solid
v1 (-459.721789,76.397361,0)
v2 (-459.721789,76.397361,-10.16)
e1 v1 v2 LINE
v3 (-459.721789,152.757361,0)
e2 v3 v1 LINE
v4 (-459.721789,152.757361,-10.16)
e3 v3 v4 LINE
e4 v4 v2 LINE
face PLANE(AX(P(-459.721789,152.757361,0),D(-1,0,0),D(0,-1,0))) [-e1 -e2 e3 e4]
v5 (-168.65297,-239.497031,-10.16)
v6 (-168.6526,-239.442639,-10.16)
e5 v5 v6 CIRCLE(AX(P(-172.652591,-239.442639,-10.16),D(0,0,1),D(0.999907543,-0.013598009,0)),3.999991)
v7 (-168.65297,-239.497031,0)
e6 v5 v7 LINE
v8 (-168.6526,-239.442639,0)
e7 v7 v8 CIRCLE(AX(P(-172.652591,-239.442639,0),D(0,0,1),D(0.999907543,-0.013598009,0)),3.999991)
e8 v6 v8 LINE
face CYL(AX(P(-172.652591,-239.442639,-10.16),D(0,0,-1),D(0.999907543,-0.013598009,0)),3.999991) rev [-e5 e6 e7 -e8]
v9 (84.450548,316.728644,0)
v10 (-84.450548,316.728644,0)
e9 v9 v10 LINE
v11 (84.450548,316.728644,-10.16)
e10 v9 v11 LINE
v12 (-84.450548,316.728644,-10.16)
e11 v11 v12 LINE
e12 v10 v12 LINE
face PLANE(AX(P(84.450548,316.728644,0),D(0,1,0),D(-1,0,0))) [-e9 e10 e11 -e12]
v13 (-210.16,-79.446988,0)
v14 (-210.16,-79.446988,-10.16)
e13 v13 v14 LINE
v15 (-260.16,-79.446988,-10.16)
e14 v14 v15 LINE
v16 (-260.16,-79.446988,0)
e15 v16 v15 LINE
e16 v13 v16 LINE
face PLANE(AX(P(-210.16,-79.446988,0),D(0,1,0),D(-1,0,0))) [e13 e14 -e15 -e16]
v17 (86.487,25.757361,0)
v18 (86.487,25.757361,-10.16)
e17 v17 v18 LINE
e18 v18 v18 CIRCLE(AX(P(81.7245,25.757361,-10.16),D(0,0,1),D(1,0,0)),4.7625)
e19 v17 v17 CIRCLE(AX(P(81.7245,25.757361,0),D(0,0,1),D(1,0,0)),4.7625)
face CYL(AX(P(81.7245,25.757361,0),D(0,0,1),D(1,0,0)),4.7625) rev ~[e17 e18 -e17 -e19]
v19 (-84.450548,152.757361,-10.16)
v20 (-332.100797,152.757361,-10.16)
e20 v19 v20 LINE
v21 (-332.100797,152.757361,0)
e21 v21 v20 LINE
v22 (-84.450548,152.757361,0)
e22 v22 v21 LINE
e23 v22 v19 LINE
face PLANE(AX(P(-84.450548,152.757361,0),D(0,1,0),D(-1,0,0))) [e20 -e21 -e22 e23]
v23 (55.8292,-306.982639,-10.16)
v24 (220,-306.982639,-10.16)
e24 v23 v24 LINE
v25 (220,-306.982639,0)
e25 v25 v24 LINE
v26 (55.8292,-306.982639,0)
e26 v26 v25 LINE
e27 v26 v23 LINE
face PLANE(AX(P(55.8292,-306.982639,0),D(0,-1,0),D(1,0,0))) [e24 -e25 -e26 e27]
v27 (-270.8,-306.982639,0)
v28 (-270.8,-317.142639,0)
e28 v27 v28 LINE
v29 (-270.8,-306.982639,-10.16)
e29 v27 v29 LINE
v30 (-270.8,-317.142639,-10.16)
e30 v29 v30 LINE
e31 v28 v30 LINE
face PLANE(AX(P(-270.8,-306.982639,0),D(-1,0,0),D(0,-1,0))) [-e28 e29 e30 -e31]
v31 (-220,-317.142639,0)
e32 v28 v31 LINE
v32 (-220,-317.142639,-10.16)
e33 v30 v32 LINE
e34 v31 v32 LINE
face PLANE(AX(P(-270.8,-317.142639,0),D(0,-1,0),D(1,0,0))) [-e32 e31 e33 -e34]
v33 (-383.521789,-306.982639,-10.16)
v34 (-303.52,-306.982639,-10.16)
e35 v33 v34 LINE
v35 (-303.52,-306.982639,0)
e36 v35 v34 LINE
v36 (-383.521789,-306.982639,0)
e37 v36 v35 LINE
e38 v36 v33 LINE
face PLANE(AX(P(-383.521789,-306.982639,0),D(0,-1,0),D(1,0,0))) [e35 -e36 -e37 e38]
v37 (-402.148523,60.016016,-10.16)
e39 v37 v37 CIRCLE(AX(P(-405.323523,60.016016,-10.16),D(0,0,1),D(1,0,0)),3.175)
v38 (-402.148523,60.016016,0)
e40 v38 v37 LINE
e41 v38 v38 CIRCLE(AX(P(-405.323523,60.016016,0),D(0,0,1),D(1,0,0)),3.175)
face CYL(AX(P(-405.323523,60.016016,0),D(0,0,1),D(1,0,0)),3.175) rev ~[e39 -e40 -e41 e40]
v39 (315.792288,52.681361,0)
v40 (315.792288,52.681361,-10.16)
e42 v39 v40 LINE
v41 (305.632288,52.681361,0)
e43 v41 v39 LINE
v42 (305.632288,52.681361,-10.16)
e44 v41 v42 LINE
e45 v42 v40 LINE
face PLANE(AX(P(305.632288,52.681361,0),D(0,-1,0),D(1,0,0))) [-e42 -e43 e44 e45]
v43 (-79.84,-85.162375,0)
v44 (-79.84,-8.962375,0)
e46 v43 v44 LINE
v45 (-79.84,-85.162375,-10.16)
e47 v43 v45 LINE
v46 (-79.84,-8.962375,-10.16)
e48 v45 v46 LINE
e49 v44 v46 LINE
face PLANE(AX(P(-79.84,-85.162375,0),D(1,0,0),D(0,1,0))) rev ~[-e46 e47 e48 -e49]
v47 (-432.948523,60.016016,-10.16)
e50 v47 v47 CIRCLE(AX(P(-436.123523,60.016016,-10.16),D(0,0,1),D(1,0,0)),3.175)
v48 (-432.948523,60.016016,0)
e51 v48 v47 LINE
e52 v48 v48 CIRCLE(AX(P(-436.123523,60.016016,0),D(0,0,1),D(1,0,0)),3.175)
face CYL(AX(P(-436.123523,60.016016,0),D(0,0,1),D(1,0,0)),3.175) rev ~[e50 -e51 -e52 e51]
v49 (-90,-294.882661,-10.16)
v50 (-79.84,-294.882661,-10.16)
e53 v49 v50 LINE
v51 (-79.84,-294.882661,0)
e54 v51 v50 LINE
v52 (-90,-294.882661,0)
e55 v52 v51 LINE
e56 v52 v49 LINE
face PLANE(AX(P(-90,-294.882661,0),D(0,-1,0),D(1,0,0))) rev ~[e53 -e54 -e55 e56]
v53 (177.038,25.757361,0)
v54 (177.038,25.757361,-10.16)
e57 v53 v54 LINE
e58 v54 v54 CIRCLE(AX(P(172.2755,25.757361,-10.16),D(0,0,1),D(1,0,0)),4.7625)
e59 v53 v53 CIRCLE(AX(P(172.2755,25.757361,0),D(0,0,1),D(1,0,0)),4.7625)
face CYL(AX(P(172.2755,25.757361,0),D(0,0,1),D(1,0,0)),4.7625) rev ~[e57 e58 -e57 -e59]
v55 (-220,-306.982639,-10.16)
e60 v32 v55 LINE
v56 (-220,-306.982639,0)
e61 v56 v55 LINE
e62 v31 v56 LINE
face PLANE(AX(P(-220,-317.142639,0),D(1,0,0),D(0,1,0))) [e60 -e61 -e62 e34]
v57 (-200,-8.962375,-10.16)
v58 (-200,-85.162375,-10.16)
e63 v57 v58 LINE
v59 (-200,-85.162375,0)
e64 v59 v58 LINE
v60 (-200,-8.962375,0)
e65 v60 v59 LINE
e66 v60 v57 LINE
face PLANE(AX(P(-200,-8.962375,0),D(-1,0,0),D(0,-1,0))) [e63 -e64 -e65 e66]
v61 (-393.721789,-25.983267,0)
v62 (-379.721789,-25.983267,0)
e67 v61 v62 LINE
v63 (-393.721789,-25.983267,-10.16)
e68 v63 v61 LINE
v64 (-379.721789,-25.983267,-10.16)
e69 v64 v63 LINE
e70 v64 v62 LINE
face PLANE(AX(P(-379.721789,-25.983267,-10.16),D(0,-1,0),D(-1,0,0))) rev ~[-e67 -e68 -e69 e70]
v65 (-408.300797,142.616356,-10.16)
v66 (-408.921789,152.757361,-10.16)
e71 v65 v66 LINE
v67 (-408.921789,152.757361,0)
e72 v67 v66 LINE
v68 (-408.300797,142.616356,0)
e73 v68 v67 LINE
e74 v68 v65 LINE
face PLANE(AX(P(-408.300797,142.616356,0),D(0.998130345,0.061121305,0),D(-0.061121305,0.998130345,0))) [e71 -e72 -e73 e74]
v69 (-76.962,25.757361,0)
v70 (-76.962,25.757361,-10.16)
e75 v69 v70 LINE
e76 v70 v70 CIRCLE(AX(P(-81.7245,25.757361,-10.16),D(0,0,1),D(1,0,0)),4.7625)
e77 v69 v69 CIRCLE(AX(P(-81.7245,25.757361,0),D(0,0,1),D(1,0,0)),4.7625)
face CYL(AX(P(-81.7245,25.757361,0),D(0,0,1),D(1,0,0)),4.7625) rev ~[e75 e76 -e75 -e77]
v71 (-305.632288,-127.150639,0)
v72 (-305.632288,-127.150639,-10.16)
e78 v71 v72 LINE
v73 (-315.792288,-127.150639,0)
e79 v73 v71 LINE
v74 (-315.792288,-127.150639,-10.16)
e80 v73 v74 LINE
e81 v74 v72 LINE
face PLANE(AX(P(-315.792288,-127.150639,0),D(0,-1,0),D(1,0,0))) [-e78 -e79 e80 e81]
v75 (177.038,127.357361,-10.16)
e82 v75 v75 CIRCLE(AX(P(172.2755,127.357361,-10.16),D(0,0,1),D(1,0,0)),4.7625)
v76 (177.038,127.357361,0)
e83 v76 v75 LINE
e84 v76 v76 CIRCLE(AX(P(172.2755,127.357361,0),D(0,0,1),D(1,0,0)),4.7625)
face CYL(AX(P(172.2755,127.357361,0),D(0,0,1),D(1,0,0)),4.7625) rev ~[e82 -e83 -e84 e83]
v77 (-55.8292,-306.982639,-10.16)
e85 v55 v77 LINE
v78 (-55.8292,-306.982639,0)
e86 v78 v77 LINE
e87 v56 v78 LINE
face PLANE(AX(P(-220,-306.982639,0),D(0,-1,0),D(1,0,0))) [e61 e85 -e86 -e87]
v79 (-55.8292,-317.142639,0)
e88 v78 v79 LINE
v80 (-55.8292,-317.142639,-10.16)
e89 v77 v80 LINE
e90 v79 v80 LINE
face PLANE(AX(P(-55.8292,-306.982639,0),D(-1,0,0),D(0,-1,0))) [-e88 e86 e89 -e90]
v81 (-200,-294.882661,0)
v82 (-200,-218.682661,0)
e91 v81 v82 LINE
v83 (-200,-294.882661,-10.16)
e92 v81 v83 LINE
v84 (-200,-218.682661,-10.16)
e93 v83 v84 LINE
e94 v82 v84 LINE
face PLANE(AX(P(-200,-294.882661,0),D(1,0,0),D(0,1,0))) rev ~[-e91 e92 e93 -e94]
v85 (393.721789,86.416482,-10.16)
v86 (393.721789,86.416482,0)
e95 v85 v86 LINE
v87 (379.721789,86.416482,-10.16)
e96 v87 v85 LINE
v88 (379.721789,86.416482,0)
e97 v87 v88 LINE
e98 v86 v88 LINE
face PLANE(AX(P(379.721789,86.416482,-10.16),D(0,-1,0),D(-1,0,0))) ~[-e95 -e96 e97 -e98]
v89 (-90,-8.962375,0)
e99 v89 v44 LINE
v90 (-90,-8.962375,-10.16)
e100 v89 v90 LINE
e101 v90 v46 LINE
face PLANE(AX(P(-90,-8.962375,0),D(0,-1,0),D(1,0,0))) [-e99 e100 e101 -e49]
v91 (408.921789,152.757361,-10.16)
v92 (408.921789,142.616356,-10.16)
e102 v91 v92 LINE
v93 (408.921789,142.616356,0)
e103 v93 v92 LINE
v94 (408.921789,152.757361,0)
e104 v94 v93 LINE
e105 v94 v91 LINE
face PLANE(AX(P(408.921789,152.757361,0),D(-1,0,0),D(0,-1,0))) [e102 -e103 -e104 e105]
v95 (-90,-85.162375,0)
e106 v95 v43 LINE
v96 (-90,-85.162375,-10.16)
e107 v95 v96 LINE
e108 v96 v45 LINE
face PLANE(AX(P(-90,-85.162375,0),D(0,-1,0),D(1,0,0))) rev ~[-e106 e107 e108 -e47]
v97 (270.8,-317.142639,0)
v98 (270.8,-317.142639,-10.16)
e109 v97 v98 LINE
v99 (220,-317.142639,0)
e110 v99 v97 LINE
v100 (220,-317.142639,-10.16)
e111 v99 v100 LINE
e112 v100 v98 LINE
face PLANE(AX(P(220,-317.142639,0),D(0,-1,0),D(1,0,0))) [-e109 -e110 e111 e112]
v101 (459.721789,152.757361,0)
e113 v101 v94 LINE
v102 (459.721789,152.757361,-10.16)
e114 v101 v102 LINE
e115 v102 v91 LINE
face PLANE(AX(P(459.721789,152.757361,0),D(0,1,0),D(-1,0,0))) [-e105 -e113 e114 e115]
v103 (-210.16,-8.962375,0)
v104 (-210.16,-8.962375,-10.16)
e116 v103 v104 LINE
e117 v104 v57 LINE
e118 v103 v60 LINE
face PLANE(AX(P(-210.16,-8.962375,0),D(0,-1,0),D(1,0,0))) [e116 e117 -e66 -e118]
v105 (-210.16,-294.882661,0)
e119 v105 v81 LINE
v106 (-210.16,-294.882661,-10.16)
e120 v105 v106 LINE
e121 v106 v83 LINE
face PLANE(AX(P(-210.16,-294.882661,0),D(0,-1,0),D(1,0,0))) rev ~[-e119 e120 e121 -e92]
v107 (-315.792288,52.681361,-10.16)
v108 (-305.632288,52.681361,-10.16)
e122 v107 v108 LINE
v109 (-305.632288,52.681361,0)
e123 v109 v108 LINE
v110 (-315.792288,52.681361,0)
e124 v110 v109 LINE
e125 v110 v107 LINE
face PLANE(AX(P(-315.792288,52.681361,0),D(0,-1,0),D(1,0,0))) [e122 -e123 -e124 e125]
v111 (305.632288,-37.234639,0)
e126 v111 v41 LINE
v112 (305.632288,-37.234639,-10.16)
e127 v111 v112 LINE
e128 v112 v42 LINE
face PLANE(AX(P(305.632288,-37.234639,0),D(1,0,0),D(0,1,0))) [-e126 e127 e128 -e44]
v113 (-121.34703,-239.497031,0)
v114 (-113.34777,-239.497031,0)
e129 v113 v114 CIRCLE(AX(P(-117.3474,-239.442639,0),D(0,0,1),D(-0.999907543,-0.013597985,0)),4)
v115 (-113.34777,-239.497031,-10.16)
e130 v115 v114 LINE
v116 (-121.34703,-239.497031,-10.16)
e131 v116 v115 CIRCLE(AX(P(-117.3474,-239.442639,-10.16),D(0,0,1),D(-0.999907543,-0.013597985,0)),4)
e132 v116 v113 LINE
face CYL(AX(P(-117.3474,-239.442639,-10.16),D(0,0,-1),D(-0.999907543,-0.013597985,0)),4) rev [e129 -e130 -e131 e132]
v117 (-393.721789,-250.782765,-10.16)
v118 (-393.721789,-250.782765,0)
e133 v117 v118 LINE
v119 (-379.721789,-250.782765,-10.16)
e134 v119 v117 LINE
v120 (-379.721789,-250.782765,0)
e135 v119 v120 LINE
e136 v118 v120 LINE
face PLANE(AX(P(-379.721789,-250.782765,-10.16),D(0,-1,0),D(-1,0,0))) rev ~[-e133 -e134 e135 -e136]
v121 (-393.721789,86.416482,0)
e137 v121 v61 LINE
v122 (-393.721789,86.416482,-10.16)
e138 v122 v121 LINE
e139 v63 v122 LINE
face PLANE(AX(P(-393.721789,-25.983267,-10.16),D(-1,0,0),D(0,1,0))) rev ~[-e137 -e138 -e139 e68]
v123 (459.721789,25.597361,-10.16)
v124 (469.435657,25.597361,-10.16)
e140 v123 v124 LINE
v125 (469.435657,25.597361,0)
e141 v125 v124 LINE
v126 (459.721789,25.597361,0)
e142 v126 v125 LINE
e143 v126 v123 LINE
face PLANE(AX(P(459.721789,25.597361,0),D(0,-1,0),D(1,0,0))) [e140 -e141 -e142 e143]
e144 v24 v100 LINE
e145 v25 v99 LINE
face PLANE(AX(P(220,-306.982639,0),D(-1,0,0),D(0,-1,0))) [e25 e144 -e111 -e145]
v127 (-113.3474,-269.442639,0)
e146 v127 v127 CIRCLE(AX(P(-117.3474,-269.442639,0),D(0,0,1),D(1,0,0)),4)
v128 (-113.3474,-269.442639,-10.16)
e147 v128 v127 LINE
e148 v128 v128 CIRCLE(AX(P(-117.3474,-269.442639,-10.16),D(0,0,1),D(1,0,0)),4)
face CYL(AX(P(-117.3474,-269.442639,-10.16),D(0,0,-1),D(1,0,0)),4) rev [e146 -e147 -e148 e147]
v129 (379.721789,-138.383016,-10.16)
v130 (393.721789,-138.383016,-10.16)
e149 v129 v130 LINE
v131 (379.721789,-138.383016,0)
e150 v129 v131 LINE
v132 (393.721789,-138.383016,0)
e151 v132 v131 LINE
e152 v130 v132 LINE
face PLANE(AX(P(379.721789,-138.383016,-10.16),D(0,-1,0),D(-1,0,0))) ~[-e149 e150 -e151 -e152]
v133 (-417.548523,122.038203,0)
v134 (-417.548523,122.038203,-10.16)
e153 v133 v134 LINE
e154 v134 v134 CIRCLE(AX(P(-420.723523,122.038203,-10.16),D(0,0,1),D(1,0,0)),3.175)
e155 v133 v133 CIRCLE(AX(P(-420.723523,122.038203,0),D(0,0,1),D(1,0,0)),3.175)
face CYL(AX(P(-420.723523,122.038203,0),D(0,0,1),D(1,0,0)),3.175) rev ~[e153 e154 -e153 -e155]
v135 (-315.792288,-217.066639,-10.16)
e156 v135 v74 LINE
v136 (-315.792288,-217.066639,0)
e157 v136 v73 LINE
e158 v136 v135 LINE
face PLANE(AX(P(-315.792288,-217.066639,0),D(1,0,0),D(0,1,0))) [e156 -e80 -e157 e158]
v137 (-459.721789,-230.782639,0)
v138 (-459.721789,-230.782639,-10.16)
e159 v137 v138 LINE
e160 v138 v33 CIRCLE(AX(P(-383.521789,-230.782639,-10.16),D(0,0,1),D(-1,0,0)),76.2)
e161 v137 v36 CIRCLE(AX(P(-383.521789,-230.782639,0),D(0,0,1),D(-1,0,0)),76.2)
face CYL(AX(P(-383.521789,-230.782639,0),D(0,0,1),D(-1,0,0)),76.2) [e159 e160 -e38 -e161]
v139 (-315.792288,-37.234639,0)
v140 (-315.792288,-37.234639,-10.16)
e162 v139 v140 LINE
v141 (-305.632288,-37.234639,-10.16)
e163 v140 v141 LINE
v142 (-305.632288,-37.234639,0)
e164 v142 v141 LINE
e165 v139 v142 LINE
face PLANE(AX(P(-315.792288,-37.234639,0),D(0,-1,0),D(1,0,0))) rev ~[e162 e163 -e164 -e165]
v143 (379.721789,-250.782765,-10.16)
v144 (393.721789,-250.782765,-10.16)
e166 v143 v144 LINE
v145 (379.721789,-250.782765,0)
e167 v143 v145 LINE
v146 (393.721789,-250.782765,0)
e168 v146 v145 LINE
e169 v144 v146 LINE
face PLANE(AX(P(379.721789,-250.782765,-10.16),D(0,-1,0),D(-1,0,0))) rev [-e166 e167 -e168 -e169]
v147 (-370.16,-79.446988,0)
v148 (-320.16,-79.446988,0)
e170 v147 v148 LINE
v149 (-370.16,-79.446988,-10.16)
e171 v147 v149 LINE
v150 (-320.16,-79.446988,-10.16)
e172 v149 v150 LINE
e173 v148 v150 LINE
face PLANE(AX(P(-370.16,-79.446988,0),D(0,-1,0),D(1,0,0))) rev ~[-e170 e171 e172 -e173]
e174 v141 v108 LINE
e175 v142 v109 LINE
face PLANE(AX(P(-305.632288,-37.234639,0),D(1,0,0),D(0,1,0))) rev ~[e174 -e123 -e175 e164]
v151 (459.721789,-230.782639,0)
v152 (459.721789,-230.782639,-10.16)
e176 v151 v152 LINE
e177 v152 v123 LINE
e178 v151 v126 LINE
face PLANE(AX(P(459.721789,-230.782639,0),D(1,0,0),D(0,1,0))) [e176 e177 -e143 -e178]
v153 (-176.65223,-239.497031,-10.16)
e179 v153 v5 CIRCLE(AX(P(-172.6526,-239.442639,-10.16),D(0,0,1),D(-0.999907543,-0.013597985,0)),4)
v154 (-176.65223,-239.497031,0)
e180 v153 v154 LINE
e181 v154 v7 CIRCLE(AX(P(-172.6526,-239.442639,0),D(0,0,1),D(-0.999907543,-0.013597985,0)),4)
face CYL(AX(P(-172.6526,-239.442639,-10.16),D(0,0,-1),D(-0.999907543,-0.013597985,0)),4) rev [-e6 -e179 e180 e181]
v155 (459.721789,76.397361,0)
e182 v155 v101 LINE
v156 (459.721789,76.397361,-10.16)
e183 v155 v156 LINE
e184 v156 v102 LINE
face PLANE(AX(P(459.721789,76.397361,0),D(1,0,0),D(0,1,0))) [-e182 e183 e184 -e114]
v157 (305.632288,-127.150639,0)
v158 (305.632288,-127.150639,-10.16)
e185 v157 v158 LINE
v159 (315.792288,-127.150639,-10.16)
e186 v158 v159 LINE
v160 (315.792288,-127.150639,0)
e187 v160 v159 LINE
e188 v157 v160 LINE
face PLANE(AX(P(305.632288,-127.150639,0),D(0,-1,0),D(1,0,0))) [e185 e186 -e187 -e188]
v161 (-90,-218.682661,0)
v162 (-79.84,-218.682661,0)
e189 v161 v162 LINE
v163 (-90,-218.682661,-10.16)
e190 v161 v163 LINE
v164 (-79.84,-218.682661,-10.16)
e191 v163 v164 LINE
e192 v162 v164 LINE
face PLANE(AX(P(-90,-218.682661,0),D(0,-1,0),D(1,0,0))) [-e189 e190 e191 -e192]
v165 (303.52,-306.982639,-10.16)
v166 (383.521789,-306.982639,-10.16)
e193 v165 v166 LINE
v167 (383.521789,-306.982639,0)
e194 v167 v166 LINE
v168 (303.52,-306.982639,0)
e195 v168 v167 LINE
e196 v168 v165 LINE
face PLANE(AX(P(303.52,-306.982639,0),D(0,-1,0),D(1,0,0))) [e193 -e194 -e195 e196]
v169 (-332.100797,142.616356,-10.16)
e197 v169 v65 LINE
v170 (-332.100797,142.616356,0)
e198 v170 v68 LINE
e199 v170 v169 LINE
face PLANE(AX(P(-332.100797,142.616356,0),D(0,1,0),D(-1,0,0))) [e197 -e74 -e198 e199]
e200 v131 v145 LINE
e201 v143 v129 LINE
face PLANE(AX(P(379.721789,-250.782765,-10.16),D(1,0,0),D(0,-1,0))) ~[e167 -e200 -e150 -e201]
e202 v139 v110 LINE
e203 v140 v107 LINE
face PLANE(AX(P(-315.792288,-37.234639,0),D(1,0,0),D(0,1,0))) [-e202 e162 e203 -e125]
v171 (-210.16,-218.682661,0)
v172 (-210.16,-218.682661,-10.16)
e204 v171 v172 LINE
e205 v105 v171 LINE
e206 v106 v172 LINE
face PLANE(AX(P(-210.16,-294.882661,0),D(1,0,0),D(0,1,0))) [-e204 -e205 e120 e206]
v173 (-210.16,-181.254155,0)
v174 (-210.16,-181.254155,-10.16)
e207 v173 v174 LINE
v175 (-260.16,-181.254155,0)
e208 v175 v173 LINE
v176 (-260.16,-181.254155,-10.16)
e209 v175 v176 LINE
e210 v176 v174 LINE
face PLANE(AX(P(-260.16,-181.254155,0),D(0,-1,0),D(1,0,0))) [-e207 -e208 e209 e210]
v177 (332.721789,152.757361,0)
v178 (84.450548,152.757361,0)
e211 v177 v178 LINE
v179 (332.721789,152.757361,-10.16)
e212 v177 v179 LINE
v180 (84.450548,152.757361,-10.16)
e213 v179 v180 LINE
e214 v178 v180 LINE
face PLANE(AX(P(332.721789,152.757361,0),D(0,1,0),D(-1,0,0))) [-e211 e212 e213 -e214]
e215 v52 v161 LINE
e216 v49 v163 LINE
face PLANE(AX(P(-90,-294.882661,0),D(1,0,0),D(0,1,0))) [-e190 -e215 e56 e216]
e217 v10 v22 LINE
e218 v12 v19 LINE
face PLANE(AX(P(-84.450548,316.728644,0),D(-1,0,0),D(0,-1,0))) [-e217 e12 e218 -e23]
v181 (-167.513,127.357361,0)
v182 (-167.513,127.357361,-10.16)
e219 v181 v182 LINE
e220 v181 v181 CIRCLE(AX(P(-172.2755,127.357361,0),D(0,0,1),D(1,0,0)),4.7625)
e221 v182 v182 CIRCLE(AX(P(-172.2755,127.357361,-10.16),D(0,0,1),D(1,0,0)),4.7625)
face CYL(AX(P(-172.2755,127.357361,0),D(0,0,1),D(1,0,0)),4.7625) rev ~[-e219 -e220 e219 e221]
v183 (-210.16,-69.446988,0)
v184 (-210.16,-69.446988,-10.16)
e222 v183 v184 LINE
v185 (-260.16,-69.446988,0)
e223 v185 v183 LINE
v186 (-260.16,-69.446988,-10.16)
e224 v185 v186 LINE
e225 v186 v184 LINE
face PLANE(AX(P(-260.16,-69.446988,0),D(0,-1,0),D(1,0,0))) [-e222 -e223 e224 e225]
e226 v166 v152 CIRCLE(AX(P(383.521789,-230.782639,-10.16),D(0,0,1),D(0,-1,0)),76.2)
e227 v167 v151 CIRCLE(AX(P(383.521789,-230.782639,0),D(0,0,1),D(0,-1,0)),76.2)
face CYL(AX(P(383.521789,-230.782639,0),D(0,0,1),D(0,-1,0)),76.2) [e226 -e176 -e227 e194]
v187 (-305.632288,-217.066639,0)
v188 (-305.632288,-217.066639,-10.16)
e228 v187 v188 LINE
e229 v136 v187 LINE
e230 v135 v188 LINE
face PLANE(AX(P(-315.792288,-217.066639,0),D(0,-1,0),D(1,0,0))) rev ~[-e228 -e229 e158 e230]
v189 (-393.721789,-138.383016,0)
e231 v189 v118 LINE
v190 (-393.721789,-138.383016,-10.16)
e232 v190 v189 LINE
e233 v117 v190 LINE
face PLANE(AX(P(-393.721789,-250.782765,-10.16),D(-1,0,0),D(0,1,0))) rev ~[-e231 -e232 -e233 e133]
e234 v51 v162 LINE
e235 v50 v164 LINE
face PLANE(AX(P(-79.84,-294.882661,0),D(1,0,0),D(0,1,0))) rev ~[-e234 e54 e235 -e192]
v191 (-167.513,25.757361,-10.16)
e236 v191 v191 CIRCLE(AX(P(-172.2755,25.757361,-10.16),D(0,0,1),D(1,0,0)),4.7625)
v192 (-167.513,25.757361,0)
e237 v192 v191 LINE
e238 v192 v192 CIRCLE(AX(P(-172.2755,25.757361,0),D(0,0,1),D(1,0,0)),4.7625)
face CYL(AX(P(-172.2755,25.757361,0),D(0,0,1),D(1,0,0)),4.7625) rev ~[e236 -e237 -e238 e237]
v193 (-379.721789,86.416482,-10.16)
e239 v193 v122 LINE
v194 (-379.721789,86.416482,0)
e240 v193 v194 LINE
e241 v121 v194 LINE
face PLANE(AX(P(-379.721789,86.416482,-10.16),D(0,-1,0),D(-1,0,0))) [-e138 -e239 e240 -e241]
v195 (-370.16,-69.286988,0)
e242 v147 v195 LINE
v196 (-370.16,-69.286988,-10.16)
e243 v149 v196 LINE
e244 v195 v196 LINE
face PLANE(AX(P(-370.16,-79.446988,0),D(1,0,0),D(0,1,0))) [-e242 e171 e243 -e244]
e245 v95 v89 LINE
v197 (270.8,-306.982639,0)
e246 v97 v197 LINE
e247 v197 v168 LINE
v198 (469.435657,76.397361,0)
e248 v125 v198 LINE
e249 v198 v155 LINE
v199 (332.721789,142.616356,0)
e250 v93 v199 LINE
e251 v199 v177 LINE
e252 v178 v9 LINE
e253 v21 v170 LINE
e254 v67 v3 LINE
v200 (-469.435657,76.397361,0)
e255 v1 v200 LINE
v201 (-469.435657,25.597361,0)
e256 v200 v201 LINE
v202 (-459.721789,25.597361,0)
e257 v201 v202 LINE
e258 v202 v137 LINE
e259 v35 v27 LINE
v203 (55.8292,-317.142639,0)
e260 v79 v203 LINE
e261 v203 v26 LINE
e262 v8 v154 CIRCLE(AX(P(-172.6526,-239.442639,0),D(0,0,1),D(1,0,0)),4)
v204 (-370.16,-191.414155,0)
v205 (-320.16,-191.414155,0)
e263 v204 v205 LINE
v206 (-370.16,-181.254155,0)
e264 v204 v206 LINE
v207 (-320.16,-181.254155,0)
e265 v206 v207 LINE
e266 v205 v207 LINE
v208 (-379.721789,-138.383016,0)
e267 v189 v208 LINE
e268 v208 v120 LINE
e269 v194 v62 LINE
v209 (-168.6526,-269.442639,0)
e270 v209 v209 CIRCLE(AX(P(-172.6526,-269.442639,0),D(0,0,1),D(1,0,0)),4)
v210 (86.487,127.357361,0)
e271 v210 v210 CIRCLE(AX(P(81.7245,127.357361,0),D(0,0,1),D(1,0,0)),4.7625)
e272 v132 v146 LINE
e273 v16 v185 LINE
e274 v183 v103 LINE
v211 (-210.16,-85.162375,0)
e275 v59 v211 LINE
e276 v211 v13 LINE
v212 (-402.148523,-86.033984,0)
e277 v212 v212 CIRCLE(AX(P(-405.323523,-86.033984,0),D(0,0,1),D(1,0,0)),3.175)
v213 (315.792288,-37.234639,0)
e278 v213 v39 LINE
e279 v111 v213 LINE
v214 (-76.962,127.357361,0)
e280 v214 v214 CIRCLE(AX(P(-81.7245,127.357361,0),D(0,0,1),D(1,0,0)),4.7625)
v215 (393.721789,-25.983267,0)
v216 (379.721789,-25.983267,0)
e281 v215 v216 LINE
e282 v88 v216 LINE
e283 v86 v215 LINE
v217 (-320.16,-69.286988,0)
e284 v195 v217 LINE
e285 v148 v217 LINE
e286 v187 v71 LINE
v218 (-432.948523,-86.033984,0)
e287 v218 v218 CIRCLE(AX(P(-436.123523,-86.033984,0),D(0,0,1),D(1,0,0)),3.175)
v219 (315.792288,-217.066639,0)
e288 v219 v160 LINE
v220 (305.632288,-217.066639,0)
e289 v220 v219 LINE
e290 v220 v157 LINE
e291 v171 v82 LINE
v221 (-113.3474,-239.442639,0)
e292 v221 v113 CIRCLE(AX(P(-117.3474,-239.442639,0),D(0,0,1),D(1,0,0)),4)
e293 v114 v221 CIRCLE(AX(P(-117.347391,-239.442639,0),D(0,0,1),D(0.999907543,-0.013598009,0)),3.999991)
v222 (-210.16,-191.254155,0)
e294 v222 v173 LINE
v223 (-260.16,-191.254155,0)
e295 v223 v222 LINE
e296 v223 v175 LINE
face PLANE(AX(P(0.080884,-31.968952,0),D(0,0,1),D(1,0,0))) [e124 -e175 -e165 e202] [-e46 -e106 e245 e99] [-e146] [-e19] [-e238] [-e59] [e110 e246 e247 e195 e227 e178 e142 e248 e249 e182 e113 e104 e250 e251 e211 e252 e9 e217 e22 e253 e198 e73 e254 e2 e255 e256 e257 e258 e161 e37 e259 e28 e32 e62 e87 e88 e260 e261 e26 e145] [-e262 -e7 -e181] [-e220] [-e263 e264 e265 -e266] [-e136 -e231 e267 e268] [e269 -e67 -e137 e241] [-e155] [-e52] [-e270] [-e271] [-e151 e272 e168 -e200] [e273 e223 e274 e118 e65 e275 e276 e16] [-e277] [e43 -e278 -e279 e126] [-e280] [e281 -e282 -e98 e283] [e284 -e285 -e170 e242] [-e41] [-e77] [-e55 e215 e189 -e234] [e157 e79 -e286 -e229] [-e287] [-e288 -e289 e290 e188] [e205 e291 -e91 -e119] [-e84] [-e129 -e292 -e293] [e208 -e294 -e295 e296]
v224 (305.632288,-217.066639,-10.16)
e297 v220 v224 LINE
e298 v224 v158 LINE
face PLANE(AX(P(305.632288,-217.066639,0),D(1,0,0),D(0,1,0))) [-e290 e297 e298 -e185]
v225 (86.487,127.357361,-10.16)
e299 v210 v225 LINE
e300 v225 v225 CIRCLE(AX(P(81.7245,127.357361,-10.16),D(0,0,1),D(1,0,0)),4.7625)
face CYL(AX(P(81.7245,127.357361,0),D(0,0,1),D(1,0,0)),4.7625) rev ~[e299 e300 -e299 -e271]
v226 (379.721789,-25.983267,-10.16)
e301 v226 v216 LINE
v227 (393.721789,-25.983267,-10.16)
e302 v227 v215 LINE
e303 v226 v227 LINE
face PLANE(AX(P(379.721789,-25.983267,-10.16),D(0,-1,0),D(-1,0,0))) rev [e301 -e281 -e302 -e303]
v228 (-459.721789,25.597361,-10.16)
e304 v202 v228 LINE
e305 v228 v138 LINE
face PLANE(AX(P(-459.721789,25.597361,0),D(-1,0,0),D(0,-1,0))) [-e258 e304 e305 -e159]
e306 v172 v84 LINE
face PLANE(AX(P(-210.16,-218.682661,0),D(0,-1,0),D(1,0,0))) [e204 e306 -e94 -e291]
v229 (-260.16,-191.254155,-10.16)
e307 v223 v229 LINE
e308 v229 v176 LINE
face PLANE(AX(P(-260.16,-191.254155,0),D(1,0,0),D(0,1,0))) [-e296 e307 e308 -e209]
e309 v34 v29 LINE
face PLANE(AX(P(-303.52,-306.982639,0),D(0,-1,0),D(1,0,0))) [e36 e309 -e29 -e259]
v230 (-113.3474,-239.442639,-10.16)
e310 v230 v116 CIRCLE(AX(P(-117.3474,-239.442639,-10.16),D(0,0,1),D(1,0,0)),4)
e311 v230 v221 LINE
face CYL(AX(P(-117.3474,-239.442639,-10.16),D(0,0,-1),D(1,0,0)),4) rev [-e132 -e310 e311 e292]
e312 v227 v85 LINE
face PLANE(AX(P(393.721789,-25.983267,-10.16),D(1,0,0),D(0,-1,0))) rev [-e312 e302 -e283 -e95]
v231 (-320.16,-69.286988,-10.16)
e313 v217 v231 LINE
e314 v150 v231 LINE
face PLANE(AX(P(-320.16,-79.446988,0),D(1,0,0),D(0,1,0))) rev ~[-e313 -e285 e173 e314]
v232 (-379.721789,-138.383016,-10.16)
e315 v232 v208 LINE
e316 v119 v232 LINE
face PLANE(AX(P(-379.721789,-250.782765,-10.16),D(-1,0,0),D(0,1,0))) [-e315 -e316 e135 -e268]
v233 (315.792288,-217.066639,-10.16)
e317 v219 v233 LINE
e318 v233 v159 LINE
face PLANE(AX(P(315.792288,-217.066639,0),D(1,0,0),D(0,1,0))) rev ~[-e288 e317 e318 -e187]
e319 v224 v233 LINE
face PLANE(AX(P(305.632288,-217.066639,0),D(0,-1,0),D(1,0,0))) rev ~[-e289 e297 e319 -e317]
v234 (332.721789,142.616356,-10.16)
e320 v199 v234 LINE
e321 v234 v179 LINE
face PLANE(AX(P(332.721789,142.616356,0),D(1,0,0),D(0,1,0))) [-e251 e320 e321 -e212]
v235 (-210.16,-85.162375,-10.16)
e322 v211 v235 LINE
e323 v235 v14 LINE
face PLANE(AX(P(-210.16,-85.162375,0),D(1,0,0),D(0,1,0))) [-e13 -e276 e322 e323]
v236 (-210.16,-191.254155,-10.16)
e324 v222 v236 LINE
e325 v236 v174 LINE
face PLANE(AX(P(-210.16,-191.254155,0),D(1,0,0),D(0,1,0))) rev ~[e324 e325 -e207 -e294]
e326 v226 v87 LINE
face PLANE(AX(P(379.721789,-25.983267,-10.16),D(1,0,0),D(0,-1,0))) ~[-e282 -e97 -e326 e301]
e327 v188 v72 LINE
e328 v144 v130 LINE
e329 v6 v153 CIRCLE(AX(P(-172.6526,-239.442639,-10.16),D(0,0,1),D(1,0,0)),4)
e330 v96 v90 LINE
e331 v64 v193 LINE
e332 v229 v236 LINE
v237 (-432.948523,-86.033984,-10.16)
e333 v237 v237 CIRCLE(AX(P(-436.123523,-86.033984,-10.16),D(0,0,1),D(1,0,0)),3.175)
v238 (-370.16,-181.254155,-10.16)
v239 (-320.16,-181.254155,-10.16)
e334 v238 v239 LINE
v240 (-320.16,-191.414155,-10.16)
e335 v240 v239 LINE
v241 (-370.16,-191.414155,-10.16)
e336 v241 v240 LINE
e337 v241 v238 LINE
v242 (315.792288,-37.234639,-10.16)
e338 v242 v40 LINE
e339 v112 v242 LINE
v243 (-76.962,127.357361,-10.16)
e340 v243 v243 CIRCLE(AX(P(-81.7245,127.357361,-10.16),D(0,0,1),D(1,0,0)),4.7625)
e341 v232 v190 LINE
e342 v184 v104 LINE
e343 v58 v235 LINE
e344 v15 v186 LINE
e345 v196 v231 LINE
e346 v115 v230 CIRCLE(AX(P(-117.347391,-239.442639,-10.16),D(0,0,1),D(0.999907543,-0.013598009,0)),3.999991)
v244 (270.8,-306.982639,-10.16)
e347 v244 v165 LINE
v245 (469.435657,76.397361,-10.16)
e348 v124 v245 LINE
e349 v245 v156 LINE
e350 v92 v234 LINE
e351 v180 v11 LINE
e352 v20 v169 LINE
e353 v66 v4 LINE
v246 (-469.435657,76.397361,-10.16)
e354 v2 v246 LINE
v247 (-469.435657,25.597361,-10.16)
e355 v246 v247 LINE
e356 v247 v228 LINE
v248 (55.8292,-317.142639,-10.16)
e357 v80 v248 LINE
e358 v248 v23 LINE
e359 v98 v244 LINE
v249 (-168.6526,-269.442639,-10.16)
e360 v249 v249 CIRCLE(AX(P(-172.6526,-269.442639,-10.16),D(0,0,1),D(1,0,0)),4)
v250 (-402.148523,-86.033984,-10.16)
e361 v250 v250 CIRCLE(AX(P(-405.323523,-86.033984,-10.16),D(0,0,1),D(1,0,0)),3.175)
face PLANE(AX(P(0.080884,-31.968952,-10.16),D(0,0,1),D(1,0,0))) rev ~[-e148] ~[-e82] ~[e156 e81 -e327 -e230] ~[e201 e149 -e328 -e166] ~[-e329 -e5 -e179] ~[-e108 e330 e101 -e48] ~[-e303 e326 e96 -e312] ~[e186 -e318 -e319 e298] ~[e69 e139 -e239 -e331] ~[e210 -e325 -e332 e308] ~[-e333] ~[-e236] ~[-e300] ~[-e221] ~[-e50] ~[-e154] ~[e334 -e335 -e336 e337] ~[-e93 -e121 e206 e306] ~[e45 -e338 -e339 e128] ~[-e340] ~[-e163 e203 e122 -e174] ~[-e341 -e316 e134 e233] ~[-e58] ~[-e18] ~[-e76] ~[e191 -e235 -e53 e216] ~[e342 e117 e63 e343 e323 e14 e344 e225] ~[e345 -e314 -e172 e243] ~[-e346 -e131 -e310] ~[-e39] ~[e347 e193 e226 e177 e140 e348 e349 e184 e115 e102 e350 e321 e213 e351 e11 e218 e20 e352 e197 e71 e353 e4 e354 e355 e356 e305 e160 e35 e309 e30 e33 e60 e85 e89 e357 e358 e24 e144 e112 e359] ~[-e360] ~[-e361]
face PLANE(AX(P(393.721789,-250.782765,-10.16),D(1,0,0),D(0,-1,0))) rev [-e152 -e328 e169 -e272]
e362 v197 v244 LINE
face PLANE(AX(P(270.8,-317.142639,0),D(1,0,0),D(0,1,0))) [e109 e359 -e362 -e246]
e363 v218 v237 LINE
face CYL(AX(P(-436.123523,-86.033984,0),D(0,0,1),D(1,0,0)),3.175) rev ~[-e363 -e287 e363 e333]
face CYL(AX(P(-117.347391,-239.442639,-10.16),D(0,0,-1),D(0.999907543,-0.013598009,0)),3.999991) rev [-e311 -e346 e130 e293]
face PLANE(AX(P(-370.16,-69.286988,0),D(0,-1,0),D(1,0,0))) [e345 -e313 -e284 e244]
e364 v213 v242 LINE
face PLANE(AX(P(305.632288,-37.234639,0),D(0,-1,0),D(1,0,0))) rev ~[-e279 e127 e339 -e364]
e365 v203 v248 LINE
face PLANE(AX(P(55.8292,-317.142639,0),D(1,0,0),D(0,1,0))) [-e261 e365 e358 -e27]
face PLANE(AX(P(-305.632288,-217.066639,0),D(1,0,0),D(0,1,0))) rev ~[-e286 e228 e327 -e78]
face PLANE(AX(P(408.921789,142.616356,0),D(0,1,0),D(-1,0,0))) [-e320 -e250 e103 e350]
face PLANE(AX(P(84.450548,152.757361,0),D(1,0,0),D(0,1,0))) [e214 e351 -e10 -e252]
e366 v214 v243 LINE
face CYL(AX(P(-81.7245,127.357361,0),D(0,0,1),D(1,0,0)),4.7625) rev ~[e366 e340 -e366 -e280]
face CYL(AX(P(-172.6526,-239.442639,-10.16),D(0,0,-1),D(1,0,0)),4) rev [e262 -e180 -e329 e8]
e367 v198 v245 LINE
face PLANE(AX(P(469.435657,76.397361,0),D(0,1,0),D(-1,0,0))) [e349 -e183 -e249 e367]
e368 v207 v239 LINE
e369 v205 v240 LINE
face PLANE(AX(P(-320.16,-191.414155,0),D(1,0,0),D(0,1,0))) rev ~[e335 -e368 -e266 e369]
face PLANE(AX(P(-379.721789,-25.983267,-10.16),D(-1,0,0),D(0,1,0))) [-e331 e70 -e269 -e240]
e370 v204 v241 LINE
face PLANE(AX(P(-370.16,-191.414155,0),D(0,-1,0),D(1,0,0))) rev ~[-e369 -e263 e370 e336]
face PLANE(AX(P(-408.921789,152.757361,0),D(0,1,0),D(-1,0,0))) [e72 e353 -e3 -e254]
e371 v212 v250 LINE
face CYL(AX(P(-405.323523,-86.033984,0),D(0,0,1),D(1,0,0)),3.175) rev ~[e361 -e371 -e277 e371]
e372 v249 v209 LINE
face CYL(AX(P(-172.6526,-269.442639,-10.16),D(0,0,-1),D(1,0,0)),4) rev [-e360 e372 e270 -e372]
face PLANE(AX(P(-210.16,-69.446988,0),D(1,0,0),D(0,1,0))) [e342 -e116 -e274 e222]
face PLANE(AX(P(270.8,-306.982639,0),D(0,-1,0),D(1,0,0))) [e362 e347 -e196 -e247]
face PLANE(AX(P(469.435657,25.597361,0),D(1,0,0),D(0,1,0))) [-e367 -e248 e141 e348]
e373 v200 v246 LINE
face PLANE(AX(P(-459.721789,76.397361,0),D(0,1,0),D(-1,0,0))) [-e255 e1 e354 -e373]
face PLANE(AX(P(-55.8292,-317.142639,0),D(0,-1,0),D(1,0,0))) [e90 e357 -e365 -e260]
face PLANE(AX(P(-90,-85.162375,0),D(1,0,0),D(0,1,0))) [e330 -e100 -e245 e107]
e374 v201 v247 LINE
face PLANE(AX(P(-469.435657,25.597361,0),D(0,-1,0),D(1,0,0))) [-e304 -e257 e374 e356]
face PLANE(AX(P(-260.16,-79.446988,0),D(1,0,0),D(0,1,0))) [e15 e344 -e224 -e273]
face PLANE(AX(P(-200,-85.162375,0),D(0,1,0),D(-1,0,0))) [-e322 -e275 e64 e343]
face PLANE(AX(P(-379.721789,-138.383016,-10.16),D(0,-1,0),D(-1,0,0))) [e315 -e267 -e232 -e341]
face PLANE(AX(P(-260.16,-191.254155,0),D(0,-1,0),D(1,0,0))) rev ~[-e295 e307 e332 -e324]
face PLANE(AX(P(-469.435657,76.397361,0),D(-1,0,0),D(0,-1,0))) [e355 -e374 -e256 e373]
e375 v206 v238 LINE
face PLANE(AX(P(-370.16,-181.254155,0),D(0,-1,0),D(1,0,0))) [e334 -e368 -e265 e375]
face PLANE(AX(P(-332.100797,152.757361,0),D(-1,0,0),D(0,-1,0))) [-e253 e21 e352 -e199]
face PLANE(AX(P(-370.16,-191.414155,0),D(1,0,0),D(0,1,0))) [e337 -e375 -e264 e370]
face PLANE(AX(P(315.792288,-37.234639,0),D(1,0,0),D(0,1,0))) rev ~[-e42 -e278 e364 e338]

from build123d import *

# Parameters (mm, degrees)
SKETCH2_W           = 10.16
SKETCH2_H           = 76.2
SKETCH2_W_2         = 50
SKETCH2_H_2         = 10.16
SKETCH2_H_3         = 89.916
SKETCH2_R           = 3.175
SKETCH2_H_4         = 10
SKETCH2_R_2         = 4.7625
BOSS_EXTRUDE1_DEPTH = 10.16
SKETCH6_W           = 14
SKETCH6_H           = 112.399749
CUT_EXTRUDE1_DEPTH  = 15.24
CUT_EXTRUDE2_START  = -10.16
SKETCH11_R          = 4
CUT_EXTRUDE2_DEPTH  = 10.16


with BuildPart() as part:
    # Sketch2 → Boss-Extrude1 (new body)
    with BuildSketch(Plane.XY):
        with BuildLine():
            Line((-408.300796745, 142.616356263), (-408.921789204, 152.75736057))
            Line((-408.921789204, 152.75736057), (-459.721789204, 152.75736057))
            Line((-459.721789204, 152.75736057), (-459.721789204, 76.39736057))
            Line((-459.721789204, 76.39736057), (-469.435656714, 76.39736057))
            Line((-469.435656714, 76.39736057), (-469.435656714, 25.59736057))
            Line((-469.435656714, 25.59736057), (-459.721789204, 25.59736057))
            Line((-459.721789204, 25.59736057), (-459.721789204, -230.782639429))
            ThreePointArc((-459.721789204, -230.782639429), (-437.403325931, -284.664176156), (-383.521789204, -306.982639429))
            Line((-383.521789204, -306.982639429), (-303.52, -306.982639429))
            Line((-303.52, -306.982639429), (-270.8, -306.98263943))
            Line((-270.8, -306.98263943), (-270.8, -317.14263943))
            Line((-270.8, -317.14263943), (-220, -317.14263943))
            Line((-220, -317.14263943), (-220, -306.98263943))
            Line((-220, -306.98263943), (-55.8292, -306.982639429))
            Line((-55.8292, -306.982639429), (-55.8292, -317.14263943))
            Line((-55.8292, -317.14263943), (55.8292, -317.14263943))
            Line((55.8292, -317.14263943), (55.8292, -306.982639429))
            Line((55.8292, -306.982639429), (220, -306.98263943))
            Line((220, -306.98263943), (220, -317.14263943))
            Line((220, -317.14263943), (270.8, -317.14263943))
            Line((270.8, -317.14263943), (270.8, -306.98263943))
            Line((270.8, -306.98263943), (303.52, -306.982639429))
            Line((303.52, -306.982639429), (383.521789204, -306.982639429))
            ThreePointArc((383.521789204, -306.982639429), (437.403325931, -284.664176156), (459.721789204, -230.782639429))
            Line((459.721789204, -230.782639429), (459.721789204, 25.59736057))
            Line((459.721789204, 25.59736057), (469.435656714, 25.59736057))
            Line((469.435656714, 25.59736057), (469.435656714, 76.39736057))
            Line((469.435656714, 76.39736057), (459.721789204, 76.39736057))
            Line((459.721789204, 76.39736057), (459.721789204, 152.75736057))
            Line((459.721789204, 152.75736057), (408.921789204, 152.75736057))
            Line((408.921789204, 152.75736057), (408.921789204, 142.616356263))
            Line((408.921789204, 142.616356263), (332.721789204, 142.616356263))
            Line((332.721789204, 142.616356263), (332.721789204, 152.75736057))
            Line((332.721789204, 152.75736057), (84.450547773, 152.75736057))
            Line((84.450547773, 152.75736057), (84.450547773, 316.728644457))
            Line((84.450547773, 316.728644457), (-84.450547773, 316.728644457))
            Line((-84.450547773, 316.728644457), (-84.450547773, 152.75736057))
            Line((-84.450547773, 152.75736057), (-332.100796745, 152.75736057))
            Line((-332.100796745, 152.75736057), (-332.100796745, 142.616356263))
            Line((-332.100796745, 142.616356263), (-408.300796745, 142.616356263))
        make_face()
        with Locations((-205.08, -256.782661115)):
            Rectangle(SKETCH2_W, SKETCH2_H, mode=Mode.SUBTRACT)
        with Locations((-84.92, -256.782661115)):
            Rectangle(SKETCH2_W, SKETCH2_H, mode=Mode.SUBTRACT)
        with Locations((-345.16, -186.334154613)):
            Rectangle(SKETCH2_W_2, SKETCH2_H_2, mode=Mode.SUBTRACT)
        with Locations((-310.712287657, -172.10863943)):
            Rectangle(SKETCH2_W, SKETCH2_H_3, mode=Mode.SUBTRACT)
        with Locations((-436.123522935, -86.033983844)):
            Circle(SKETCH2_R, mode=Mode.SUBTRACT)
        with Locations((-405.323522935, -86.033983844)):
            Circle(SKETCH2_R, mode=Mode.SUBTRACT)
        with Locations((-235.16, -186.254154613)):
            Rectangle(SKETCH2_W_2, SKETCH2_H_4, mode=Mode.SUBTRACT)
        with Locations((310.712287657, -172.10863943)):
            Rectangle(SKETCH2_W, SKETCH2_H_3, mode=Mode.SUBTRACT)
        with Locations((-345.16, -74.366988355)):
            Rectangle(SKETCH2_W_2, SKETCH2_H_2, mode=Mode.SUBTRACT)
        with Locations((-310.712287657, 7.72336057)):
            Rectangle(SKETCH2_W, SKETCH2_H_3, mode=Mode.SUBTRACT)
        Polygon((-210.16, -79.446988355), (-260.16, -79.446988355), (-260.16, -69.446988355), (-210.16, -69.446988355), (-210.16, -8.96237531), (-200, -8.96237531), (-200, -85.16237531), (-210.16, -85.16237531), align=None, mode=Mode.SUBTRACT)
        with Locations((-84.92, -47.06237531)):
            Rectangle(SKETCH2_W, SKETCH2_H, mode=Mode.SUBTRACT)
        with Locations((-436.123522935, 60.016016156)):
            Circle(SKETCH2_R, mode=Mode.SUBTRACT)
        with Locations((-405.323522935, 60.016016156)):
            Circle(SKETCH2_R, mode=Mode.SUBTRACT)
        with Locations((-420.723522935, 122.038203417)):
            Circle(SKETCH2_R, mode=Mode.SUBTRACT)
        with Locations((-172.2755, 25.75736057)):
            Circle(SKETCH2_R_2, mode=Mode.SUBTRACT)
        with Locations((-81.7245, 25.75736057)):
            Circle(SKETCH2_R_2, mode=Mode.SUBTRACT)
        with Locations((-172.2755, 127.35736057)):
            Circle(SKETCH2_R_2, mode=Mode.SUBTRACT)
        with Locations((-81.7245, 127.35736057)):
            Circle(SKETCH2_R_2, mode=Mode.SUBTRACT)
        with Locations((310.712287657, 7.72336057)):
            Rectangle(SKETCH2_W, SKETCH2_H_3, mode=Mode.SUBTRACT)
        with Locations((81.7245, 25.75736057)):
            Circle(SKETCH2_R_2, mode=Mode.SUBTRACT)
        with Locations((81.7245, 127.35736057)):
            Circle(SKETCH2_R_2, mode=Mode.SUBTRACT)
        with Locations((172.2755, 25.75736057)):
            Circle(SKETCH2_R_2, mode=Mode.SUBTRACT)
        with Locations((172.2755, 127.35736057)):
            Circle(SKETCH2_R_2, mode=Mode.SUBTRACT)
    extrude(amount=-BOSS_EXTRUDE1_DEPTH)

    # Sketch6 → Cut-Extrude1 (cut)
    with BuildSketch(Plane(origin=(0, 0, -10.16), x_dir=(-1, 0, 0), z_dir=(0, 0, -1))):
        with Locations((386.721789204, 30.216607763)):
            Rectangle(SKETCH6_W, SKETCH6_H)
        with Locations((386.721789204, -194.582890237)):
            Rectangle(SKETCH6_W, SKETCH6_H)
    cut_extrude1 = extrude(amount=-CUT_EXTRUDE1_DEPTH, mode=Mode.SUBTRACT)

    # Mirror1: Cut-Extrude1 across plane
    add(cut_extrude1.mirror(Plane(origin=(0, 0, 0), x_dir=(0, 0, 1), z_dir=(1, 0, 0))), mode=Mode.SUBTRACT)

    # Sketch11 → Cut-Extrude2 (cut)
    with BuildSketch(Plane.XY.offset(CUT_EXTRUDE2_START)):
        with Locations((-172.6526, -269.442639029)):
            Circle(SKETCH11_R)
        with BuildLine():
            Line((-168.652969828, -239.497030969), (-176.652230173, -239.497030969))
            ThreePointArc((-176.652230173, -239.497030969), (-172.6526, -243.442639029), (-168.652969828, -239.497030969))
        make_face()
        with BuildLine():
            ThreePointArc((-168.6526, -239.442639029), (-172.679796599, -235.442731487), (-176.652230173, -239.497030969))
            Line((-176.652230173, -239.497030969), (-168.652969828, -239.497030969))
            ThreePointArc((-168.652969828, -239.497030969), (-168.652692458, -239.469835628), (-168.6526, -239.442639029))
        make_face()
        with BuildLine():
            ThreePointArc((-113.3474, -239.442639029), (-117.374596599, -235.442731487), (-121.347030173, -239.497030969))
            Line((-121.347030173, -239.497030969), (-113.347769828, -239.497030969))
            ThreePointArc((-113.347769828, -239.497030969), (-113.347492458, -239.469835628), (-113.3474, -239.442639029))
        make_face()
        with BuildLine():
            Line((-113.347769828, -239.497030969), (-121.347030173, -239.497030969))
            ThreePointArc((-121.347030173, -239.497030969), (-117.3474, -243.442639029), (-113.347769828, -239.497030969))
        make_face()
        with Locations((-117.3474, -269.442639029)):
            Circle(SKETCH11_R)
    extrude(amount=CUT_EXTRUDE2_DEPTH, mode=Mode.SUBTRACT)


solid = part.part
